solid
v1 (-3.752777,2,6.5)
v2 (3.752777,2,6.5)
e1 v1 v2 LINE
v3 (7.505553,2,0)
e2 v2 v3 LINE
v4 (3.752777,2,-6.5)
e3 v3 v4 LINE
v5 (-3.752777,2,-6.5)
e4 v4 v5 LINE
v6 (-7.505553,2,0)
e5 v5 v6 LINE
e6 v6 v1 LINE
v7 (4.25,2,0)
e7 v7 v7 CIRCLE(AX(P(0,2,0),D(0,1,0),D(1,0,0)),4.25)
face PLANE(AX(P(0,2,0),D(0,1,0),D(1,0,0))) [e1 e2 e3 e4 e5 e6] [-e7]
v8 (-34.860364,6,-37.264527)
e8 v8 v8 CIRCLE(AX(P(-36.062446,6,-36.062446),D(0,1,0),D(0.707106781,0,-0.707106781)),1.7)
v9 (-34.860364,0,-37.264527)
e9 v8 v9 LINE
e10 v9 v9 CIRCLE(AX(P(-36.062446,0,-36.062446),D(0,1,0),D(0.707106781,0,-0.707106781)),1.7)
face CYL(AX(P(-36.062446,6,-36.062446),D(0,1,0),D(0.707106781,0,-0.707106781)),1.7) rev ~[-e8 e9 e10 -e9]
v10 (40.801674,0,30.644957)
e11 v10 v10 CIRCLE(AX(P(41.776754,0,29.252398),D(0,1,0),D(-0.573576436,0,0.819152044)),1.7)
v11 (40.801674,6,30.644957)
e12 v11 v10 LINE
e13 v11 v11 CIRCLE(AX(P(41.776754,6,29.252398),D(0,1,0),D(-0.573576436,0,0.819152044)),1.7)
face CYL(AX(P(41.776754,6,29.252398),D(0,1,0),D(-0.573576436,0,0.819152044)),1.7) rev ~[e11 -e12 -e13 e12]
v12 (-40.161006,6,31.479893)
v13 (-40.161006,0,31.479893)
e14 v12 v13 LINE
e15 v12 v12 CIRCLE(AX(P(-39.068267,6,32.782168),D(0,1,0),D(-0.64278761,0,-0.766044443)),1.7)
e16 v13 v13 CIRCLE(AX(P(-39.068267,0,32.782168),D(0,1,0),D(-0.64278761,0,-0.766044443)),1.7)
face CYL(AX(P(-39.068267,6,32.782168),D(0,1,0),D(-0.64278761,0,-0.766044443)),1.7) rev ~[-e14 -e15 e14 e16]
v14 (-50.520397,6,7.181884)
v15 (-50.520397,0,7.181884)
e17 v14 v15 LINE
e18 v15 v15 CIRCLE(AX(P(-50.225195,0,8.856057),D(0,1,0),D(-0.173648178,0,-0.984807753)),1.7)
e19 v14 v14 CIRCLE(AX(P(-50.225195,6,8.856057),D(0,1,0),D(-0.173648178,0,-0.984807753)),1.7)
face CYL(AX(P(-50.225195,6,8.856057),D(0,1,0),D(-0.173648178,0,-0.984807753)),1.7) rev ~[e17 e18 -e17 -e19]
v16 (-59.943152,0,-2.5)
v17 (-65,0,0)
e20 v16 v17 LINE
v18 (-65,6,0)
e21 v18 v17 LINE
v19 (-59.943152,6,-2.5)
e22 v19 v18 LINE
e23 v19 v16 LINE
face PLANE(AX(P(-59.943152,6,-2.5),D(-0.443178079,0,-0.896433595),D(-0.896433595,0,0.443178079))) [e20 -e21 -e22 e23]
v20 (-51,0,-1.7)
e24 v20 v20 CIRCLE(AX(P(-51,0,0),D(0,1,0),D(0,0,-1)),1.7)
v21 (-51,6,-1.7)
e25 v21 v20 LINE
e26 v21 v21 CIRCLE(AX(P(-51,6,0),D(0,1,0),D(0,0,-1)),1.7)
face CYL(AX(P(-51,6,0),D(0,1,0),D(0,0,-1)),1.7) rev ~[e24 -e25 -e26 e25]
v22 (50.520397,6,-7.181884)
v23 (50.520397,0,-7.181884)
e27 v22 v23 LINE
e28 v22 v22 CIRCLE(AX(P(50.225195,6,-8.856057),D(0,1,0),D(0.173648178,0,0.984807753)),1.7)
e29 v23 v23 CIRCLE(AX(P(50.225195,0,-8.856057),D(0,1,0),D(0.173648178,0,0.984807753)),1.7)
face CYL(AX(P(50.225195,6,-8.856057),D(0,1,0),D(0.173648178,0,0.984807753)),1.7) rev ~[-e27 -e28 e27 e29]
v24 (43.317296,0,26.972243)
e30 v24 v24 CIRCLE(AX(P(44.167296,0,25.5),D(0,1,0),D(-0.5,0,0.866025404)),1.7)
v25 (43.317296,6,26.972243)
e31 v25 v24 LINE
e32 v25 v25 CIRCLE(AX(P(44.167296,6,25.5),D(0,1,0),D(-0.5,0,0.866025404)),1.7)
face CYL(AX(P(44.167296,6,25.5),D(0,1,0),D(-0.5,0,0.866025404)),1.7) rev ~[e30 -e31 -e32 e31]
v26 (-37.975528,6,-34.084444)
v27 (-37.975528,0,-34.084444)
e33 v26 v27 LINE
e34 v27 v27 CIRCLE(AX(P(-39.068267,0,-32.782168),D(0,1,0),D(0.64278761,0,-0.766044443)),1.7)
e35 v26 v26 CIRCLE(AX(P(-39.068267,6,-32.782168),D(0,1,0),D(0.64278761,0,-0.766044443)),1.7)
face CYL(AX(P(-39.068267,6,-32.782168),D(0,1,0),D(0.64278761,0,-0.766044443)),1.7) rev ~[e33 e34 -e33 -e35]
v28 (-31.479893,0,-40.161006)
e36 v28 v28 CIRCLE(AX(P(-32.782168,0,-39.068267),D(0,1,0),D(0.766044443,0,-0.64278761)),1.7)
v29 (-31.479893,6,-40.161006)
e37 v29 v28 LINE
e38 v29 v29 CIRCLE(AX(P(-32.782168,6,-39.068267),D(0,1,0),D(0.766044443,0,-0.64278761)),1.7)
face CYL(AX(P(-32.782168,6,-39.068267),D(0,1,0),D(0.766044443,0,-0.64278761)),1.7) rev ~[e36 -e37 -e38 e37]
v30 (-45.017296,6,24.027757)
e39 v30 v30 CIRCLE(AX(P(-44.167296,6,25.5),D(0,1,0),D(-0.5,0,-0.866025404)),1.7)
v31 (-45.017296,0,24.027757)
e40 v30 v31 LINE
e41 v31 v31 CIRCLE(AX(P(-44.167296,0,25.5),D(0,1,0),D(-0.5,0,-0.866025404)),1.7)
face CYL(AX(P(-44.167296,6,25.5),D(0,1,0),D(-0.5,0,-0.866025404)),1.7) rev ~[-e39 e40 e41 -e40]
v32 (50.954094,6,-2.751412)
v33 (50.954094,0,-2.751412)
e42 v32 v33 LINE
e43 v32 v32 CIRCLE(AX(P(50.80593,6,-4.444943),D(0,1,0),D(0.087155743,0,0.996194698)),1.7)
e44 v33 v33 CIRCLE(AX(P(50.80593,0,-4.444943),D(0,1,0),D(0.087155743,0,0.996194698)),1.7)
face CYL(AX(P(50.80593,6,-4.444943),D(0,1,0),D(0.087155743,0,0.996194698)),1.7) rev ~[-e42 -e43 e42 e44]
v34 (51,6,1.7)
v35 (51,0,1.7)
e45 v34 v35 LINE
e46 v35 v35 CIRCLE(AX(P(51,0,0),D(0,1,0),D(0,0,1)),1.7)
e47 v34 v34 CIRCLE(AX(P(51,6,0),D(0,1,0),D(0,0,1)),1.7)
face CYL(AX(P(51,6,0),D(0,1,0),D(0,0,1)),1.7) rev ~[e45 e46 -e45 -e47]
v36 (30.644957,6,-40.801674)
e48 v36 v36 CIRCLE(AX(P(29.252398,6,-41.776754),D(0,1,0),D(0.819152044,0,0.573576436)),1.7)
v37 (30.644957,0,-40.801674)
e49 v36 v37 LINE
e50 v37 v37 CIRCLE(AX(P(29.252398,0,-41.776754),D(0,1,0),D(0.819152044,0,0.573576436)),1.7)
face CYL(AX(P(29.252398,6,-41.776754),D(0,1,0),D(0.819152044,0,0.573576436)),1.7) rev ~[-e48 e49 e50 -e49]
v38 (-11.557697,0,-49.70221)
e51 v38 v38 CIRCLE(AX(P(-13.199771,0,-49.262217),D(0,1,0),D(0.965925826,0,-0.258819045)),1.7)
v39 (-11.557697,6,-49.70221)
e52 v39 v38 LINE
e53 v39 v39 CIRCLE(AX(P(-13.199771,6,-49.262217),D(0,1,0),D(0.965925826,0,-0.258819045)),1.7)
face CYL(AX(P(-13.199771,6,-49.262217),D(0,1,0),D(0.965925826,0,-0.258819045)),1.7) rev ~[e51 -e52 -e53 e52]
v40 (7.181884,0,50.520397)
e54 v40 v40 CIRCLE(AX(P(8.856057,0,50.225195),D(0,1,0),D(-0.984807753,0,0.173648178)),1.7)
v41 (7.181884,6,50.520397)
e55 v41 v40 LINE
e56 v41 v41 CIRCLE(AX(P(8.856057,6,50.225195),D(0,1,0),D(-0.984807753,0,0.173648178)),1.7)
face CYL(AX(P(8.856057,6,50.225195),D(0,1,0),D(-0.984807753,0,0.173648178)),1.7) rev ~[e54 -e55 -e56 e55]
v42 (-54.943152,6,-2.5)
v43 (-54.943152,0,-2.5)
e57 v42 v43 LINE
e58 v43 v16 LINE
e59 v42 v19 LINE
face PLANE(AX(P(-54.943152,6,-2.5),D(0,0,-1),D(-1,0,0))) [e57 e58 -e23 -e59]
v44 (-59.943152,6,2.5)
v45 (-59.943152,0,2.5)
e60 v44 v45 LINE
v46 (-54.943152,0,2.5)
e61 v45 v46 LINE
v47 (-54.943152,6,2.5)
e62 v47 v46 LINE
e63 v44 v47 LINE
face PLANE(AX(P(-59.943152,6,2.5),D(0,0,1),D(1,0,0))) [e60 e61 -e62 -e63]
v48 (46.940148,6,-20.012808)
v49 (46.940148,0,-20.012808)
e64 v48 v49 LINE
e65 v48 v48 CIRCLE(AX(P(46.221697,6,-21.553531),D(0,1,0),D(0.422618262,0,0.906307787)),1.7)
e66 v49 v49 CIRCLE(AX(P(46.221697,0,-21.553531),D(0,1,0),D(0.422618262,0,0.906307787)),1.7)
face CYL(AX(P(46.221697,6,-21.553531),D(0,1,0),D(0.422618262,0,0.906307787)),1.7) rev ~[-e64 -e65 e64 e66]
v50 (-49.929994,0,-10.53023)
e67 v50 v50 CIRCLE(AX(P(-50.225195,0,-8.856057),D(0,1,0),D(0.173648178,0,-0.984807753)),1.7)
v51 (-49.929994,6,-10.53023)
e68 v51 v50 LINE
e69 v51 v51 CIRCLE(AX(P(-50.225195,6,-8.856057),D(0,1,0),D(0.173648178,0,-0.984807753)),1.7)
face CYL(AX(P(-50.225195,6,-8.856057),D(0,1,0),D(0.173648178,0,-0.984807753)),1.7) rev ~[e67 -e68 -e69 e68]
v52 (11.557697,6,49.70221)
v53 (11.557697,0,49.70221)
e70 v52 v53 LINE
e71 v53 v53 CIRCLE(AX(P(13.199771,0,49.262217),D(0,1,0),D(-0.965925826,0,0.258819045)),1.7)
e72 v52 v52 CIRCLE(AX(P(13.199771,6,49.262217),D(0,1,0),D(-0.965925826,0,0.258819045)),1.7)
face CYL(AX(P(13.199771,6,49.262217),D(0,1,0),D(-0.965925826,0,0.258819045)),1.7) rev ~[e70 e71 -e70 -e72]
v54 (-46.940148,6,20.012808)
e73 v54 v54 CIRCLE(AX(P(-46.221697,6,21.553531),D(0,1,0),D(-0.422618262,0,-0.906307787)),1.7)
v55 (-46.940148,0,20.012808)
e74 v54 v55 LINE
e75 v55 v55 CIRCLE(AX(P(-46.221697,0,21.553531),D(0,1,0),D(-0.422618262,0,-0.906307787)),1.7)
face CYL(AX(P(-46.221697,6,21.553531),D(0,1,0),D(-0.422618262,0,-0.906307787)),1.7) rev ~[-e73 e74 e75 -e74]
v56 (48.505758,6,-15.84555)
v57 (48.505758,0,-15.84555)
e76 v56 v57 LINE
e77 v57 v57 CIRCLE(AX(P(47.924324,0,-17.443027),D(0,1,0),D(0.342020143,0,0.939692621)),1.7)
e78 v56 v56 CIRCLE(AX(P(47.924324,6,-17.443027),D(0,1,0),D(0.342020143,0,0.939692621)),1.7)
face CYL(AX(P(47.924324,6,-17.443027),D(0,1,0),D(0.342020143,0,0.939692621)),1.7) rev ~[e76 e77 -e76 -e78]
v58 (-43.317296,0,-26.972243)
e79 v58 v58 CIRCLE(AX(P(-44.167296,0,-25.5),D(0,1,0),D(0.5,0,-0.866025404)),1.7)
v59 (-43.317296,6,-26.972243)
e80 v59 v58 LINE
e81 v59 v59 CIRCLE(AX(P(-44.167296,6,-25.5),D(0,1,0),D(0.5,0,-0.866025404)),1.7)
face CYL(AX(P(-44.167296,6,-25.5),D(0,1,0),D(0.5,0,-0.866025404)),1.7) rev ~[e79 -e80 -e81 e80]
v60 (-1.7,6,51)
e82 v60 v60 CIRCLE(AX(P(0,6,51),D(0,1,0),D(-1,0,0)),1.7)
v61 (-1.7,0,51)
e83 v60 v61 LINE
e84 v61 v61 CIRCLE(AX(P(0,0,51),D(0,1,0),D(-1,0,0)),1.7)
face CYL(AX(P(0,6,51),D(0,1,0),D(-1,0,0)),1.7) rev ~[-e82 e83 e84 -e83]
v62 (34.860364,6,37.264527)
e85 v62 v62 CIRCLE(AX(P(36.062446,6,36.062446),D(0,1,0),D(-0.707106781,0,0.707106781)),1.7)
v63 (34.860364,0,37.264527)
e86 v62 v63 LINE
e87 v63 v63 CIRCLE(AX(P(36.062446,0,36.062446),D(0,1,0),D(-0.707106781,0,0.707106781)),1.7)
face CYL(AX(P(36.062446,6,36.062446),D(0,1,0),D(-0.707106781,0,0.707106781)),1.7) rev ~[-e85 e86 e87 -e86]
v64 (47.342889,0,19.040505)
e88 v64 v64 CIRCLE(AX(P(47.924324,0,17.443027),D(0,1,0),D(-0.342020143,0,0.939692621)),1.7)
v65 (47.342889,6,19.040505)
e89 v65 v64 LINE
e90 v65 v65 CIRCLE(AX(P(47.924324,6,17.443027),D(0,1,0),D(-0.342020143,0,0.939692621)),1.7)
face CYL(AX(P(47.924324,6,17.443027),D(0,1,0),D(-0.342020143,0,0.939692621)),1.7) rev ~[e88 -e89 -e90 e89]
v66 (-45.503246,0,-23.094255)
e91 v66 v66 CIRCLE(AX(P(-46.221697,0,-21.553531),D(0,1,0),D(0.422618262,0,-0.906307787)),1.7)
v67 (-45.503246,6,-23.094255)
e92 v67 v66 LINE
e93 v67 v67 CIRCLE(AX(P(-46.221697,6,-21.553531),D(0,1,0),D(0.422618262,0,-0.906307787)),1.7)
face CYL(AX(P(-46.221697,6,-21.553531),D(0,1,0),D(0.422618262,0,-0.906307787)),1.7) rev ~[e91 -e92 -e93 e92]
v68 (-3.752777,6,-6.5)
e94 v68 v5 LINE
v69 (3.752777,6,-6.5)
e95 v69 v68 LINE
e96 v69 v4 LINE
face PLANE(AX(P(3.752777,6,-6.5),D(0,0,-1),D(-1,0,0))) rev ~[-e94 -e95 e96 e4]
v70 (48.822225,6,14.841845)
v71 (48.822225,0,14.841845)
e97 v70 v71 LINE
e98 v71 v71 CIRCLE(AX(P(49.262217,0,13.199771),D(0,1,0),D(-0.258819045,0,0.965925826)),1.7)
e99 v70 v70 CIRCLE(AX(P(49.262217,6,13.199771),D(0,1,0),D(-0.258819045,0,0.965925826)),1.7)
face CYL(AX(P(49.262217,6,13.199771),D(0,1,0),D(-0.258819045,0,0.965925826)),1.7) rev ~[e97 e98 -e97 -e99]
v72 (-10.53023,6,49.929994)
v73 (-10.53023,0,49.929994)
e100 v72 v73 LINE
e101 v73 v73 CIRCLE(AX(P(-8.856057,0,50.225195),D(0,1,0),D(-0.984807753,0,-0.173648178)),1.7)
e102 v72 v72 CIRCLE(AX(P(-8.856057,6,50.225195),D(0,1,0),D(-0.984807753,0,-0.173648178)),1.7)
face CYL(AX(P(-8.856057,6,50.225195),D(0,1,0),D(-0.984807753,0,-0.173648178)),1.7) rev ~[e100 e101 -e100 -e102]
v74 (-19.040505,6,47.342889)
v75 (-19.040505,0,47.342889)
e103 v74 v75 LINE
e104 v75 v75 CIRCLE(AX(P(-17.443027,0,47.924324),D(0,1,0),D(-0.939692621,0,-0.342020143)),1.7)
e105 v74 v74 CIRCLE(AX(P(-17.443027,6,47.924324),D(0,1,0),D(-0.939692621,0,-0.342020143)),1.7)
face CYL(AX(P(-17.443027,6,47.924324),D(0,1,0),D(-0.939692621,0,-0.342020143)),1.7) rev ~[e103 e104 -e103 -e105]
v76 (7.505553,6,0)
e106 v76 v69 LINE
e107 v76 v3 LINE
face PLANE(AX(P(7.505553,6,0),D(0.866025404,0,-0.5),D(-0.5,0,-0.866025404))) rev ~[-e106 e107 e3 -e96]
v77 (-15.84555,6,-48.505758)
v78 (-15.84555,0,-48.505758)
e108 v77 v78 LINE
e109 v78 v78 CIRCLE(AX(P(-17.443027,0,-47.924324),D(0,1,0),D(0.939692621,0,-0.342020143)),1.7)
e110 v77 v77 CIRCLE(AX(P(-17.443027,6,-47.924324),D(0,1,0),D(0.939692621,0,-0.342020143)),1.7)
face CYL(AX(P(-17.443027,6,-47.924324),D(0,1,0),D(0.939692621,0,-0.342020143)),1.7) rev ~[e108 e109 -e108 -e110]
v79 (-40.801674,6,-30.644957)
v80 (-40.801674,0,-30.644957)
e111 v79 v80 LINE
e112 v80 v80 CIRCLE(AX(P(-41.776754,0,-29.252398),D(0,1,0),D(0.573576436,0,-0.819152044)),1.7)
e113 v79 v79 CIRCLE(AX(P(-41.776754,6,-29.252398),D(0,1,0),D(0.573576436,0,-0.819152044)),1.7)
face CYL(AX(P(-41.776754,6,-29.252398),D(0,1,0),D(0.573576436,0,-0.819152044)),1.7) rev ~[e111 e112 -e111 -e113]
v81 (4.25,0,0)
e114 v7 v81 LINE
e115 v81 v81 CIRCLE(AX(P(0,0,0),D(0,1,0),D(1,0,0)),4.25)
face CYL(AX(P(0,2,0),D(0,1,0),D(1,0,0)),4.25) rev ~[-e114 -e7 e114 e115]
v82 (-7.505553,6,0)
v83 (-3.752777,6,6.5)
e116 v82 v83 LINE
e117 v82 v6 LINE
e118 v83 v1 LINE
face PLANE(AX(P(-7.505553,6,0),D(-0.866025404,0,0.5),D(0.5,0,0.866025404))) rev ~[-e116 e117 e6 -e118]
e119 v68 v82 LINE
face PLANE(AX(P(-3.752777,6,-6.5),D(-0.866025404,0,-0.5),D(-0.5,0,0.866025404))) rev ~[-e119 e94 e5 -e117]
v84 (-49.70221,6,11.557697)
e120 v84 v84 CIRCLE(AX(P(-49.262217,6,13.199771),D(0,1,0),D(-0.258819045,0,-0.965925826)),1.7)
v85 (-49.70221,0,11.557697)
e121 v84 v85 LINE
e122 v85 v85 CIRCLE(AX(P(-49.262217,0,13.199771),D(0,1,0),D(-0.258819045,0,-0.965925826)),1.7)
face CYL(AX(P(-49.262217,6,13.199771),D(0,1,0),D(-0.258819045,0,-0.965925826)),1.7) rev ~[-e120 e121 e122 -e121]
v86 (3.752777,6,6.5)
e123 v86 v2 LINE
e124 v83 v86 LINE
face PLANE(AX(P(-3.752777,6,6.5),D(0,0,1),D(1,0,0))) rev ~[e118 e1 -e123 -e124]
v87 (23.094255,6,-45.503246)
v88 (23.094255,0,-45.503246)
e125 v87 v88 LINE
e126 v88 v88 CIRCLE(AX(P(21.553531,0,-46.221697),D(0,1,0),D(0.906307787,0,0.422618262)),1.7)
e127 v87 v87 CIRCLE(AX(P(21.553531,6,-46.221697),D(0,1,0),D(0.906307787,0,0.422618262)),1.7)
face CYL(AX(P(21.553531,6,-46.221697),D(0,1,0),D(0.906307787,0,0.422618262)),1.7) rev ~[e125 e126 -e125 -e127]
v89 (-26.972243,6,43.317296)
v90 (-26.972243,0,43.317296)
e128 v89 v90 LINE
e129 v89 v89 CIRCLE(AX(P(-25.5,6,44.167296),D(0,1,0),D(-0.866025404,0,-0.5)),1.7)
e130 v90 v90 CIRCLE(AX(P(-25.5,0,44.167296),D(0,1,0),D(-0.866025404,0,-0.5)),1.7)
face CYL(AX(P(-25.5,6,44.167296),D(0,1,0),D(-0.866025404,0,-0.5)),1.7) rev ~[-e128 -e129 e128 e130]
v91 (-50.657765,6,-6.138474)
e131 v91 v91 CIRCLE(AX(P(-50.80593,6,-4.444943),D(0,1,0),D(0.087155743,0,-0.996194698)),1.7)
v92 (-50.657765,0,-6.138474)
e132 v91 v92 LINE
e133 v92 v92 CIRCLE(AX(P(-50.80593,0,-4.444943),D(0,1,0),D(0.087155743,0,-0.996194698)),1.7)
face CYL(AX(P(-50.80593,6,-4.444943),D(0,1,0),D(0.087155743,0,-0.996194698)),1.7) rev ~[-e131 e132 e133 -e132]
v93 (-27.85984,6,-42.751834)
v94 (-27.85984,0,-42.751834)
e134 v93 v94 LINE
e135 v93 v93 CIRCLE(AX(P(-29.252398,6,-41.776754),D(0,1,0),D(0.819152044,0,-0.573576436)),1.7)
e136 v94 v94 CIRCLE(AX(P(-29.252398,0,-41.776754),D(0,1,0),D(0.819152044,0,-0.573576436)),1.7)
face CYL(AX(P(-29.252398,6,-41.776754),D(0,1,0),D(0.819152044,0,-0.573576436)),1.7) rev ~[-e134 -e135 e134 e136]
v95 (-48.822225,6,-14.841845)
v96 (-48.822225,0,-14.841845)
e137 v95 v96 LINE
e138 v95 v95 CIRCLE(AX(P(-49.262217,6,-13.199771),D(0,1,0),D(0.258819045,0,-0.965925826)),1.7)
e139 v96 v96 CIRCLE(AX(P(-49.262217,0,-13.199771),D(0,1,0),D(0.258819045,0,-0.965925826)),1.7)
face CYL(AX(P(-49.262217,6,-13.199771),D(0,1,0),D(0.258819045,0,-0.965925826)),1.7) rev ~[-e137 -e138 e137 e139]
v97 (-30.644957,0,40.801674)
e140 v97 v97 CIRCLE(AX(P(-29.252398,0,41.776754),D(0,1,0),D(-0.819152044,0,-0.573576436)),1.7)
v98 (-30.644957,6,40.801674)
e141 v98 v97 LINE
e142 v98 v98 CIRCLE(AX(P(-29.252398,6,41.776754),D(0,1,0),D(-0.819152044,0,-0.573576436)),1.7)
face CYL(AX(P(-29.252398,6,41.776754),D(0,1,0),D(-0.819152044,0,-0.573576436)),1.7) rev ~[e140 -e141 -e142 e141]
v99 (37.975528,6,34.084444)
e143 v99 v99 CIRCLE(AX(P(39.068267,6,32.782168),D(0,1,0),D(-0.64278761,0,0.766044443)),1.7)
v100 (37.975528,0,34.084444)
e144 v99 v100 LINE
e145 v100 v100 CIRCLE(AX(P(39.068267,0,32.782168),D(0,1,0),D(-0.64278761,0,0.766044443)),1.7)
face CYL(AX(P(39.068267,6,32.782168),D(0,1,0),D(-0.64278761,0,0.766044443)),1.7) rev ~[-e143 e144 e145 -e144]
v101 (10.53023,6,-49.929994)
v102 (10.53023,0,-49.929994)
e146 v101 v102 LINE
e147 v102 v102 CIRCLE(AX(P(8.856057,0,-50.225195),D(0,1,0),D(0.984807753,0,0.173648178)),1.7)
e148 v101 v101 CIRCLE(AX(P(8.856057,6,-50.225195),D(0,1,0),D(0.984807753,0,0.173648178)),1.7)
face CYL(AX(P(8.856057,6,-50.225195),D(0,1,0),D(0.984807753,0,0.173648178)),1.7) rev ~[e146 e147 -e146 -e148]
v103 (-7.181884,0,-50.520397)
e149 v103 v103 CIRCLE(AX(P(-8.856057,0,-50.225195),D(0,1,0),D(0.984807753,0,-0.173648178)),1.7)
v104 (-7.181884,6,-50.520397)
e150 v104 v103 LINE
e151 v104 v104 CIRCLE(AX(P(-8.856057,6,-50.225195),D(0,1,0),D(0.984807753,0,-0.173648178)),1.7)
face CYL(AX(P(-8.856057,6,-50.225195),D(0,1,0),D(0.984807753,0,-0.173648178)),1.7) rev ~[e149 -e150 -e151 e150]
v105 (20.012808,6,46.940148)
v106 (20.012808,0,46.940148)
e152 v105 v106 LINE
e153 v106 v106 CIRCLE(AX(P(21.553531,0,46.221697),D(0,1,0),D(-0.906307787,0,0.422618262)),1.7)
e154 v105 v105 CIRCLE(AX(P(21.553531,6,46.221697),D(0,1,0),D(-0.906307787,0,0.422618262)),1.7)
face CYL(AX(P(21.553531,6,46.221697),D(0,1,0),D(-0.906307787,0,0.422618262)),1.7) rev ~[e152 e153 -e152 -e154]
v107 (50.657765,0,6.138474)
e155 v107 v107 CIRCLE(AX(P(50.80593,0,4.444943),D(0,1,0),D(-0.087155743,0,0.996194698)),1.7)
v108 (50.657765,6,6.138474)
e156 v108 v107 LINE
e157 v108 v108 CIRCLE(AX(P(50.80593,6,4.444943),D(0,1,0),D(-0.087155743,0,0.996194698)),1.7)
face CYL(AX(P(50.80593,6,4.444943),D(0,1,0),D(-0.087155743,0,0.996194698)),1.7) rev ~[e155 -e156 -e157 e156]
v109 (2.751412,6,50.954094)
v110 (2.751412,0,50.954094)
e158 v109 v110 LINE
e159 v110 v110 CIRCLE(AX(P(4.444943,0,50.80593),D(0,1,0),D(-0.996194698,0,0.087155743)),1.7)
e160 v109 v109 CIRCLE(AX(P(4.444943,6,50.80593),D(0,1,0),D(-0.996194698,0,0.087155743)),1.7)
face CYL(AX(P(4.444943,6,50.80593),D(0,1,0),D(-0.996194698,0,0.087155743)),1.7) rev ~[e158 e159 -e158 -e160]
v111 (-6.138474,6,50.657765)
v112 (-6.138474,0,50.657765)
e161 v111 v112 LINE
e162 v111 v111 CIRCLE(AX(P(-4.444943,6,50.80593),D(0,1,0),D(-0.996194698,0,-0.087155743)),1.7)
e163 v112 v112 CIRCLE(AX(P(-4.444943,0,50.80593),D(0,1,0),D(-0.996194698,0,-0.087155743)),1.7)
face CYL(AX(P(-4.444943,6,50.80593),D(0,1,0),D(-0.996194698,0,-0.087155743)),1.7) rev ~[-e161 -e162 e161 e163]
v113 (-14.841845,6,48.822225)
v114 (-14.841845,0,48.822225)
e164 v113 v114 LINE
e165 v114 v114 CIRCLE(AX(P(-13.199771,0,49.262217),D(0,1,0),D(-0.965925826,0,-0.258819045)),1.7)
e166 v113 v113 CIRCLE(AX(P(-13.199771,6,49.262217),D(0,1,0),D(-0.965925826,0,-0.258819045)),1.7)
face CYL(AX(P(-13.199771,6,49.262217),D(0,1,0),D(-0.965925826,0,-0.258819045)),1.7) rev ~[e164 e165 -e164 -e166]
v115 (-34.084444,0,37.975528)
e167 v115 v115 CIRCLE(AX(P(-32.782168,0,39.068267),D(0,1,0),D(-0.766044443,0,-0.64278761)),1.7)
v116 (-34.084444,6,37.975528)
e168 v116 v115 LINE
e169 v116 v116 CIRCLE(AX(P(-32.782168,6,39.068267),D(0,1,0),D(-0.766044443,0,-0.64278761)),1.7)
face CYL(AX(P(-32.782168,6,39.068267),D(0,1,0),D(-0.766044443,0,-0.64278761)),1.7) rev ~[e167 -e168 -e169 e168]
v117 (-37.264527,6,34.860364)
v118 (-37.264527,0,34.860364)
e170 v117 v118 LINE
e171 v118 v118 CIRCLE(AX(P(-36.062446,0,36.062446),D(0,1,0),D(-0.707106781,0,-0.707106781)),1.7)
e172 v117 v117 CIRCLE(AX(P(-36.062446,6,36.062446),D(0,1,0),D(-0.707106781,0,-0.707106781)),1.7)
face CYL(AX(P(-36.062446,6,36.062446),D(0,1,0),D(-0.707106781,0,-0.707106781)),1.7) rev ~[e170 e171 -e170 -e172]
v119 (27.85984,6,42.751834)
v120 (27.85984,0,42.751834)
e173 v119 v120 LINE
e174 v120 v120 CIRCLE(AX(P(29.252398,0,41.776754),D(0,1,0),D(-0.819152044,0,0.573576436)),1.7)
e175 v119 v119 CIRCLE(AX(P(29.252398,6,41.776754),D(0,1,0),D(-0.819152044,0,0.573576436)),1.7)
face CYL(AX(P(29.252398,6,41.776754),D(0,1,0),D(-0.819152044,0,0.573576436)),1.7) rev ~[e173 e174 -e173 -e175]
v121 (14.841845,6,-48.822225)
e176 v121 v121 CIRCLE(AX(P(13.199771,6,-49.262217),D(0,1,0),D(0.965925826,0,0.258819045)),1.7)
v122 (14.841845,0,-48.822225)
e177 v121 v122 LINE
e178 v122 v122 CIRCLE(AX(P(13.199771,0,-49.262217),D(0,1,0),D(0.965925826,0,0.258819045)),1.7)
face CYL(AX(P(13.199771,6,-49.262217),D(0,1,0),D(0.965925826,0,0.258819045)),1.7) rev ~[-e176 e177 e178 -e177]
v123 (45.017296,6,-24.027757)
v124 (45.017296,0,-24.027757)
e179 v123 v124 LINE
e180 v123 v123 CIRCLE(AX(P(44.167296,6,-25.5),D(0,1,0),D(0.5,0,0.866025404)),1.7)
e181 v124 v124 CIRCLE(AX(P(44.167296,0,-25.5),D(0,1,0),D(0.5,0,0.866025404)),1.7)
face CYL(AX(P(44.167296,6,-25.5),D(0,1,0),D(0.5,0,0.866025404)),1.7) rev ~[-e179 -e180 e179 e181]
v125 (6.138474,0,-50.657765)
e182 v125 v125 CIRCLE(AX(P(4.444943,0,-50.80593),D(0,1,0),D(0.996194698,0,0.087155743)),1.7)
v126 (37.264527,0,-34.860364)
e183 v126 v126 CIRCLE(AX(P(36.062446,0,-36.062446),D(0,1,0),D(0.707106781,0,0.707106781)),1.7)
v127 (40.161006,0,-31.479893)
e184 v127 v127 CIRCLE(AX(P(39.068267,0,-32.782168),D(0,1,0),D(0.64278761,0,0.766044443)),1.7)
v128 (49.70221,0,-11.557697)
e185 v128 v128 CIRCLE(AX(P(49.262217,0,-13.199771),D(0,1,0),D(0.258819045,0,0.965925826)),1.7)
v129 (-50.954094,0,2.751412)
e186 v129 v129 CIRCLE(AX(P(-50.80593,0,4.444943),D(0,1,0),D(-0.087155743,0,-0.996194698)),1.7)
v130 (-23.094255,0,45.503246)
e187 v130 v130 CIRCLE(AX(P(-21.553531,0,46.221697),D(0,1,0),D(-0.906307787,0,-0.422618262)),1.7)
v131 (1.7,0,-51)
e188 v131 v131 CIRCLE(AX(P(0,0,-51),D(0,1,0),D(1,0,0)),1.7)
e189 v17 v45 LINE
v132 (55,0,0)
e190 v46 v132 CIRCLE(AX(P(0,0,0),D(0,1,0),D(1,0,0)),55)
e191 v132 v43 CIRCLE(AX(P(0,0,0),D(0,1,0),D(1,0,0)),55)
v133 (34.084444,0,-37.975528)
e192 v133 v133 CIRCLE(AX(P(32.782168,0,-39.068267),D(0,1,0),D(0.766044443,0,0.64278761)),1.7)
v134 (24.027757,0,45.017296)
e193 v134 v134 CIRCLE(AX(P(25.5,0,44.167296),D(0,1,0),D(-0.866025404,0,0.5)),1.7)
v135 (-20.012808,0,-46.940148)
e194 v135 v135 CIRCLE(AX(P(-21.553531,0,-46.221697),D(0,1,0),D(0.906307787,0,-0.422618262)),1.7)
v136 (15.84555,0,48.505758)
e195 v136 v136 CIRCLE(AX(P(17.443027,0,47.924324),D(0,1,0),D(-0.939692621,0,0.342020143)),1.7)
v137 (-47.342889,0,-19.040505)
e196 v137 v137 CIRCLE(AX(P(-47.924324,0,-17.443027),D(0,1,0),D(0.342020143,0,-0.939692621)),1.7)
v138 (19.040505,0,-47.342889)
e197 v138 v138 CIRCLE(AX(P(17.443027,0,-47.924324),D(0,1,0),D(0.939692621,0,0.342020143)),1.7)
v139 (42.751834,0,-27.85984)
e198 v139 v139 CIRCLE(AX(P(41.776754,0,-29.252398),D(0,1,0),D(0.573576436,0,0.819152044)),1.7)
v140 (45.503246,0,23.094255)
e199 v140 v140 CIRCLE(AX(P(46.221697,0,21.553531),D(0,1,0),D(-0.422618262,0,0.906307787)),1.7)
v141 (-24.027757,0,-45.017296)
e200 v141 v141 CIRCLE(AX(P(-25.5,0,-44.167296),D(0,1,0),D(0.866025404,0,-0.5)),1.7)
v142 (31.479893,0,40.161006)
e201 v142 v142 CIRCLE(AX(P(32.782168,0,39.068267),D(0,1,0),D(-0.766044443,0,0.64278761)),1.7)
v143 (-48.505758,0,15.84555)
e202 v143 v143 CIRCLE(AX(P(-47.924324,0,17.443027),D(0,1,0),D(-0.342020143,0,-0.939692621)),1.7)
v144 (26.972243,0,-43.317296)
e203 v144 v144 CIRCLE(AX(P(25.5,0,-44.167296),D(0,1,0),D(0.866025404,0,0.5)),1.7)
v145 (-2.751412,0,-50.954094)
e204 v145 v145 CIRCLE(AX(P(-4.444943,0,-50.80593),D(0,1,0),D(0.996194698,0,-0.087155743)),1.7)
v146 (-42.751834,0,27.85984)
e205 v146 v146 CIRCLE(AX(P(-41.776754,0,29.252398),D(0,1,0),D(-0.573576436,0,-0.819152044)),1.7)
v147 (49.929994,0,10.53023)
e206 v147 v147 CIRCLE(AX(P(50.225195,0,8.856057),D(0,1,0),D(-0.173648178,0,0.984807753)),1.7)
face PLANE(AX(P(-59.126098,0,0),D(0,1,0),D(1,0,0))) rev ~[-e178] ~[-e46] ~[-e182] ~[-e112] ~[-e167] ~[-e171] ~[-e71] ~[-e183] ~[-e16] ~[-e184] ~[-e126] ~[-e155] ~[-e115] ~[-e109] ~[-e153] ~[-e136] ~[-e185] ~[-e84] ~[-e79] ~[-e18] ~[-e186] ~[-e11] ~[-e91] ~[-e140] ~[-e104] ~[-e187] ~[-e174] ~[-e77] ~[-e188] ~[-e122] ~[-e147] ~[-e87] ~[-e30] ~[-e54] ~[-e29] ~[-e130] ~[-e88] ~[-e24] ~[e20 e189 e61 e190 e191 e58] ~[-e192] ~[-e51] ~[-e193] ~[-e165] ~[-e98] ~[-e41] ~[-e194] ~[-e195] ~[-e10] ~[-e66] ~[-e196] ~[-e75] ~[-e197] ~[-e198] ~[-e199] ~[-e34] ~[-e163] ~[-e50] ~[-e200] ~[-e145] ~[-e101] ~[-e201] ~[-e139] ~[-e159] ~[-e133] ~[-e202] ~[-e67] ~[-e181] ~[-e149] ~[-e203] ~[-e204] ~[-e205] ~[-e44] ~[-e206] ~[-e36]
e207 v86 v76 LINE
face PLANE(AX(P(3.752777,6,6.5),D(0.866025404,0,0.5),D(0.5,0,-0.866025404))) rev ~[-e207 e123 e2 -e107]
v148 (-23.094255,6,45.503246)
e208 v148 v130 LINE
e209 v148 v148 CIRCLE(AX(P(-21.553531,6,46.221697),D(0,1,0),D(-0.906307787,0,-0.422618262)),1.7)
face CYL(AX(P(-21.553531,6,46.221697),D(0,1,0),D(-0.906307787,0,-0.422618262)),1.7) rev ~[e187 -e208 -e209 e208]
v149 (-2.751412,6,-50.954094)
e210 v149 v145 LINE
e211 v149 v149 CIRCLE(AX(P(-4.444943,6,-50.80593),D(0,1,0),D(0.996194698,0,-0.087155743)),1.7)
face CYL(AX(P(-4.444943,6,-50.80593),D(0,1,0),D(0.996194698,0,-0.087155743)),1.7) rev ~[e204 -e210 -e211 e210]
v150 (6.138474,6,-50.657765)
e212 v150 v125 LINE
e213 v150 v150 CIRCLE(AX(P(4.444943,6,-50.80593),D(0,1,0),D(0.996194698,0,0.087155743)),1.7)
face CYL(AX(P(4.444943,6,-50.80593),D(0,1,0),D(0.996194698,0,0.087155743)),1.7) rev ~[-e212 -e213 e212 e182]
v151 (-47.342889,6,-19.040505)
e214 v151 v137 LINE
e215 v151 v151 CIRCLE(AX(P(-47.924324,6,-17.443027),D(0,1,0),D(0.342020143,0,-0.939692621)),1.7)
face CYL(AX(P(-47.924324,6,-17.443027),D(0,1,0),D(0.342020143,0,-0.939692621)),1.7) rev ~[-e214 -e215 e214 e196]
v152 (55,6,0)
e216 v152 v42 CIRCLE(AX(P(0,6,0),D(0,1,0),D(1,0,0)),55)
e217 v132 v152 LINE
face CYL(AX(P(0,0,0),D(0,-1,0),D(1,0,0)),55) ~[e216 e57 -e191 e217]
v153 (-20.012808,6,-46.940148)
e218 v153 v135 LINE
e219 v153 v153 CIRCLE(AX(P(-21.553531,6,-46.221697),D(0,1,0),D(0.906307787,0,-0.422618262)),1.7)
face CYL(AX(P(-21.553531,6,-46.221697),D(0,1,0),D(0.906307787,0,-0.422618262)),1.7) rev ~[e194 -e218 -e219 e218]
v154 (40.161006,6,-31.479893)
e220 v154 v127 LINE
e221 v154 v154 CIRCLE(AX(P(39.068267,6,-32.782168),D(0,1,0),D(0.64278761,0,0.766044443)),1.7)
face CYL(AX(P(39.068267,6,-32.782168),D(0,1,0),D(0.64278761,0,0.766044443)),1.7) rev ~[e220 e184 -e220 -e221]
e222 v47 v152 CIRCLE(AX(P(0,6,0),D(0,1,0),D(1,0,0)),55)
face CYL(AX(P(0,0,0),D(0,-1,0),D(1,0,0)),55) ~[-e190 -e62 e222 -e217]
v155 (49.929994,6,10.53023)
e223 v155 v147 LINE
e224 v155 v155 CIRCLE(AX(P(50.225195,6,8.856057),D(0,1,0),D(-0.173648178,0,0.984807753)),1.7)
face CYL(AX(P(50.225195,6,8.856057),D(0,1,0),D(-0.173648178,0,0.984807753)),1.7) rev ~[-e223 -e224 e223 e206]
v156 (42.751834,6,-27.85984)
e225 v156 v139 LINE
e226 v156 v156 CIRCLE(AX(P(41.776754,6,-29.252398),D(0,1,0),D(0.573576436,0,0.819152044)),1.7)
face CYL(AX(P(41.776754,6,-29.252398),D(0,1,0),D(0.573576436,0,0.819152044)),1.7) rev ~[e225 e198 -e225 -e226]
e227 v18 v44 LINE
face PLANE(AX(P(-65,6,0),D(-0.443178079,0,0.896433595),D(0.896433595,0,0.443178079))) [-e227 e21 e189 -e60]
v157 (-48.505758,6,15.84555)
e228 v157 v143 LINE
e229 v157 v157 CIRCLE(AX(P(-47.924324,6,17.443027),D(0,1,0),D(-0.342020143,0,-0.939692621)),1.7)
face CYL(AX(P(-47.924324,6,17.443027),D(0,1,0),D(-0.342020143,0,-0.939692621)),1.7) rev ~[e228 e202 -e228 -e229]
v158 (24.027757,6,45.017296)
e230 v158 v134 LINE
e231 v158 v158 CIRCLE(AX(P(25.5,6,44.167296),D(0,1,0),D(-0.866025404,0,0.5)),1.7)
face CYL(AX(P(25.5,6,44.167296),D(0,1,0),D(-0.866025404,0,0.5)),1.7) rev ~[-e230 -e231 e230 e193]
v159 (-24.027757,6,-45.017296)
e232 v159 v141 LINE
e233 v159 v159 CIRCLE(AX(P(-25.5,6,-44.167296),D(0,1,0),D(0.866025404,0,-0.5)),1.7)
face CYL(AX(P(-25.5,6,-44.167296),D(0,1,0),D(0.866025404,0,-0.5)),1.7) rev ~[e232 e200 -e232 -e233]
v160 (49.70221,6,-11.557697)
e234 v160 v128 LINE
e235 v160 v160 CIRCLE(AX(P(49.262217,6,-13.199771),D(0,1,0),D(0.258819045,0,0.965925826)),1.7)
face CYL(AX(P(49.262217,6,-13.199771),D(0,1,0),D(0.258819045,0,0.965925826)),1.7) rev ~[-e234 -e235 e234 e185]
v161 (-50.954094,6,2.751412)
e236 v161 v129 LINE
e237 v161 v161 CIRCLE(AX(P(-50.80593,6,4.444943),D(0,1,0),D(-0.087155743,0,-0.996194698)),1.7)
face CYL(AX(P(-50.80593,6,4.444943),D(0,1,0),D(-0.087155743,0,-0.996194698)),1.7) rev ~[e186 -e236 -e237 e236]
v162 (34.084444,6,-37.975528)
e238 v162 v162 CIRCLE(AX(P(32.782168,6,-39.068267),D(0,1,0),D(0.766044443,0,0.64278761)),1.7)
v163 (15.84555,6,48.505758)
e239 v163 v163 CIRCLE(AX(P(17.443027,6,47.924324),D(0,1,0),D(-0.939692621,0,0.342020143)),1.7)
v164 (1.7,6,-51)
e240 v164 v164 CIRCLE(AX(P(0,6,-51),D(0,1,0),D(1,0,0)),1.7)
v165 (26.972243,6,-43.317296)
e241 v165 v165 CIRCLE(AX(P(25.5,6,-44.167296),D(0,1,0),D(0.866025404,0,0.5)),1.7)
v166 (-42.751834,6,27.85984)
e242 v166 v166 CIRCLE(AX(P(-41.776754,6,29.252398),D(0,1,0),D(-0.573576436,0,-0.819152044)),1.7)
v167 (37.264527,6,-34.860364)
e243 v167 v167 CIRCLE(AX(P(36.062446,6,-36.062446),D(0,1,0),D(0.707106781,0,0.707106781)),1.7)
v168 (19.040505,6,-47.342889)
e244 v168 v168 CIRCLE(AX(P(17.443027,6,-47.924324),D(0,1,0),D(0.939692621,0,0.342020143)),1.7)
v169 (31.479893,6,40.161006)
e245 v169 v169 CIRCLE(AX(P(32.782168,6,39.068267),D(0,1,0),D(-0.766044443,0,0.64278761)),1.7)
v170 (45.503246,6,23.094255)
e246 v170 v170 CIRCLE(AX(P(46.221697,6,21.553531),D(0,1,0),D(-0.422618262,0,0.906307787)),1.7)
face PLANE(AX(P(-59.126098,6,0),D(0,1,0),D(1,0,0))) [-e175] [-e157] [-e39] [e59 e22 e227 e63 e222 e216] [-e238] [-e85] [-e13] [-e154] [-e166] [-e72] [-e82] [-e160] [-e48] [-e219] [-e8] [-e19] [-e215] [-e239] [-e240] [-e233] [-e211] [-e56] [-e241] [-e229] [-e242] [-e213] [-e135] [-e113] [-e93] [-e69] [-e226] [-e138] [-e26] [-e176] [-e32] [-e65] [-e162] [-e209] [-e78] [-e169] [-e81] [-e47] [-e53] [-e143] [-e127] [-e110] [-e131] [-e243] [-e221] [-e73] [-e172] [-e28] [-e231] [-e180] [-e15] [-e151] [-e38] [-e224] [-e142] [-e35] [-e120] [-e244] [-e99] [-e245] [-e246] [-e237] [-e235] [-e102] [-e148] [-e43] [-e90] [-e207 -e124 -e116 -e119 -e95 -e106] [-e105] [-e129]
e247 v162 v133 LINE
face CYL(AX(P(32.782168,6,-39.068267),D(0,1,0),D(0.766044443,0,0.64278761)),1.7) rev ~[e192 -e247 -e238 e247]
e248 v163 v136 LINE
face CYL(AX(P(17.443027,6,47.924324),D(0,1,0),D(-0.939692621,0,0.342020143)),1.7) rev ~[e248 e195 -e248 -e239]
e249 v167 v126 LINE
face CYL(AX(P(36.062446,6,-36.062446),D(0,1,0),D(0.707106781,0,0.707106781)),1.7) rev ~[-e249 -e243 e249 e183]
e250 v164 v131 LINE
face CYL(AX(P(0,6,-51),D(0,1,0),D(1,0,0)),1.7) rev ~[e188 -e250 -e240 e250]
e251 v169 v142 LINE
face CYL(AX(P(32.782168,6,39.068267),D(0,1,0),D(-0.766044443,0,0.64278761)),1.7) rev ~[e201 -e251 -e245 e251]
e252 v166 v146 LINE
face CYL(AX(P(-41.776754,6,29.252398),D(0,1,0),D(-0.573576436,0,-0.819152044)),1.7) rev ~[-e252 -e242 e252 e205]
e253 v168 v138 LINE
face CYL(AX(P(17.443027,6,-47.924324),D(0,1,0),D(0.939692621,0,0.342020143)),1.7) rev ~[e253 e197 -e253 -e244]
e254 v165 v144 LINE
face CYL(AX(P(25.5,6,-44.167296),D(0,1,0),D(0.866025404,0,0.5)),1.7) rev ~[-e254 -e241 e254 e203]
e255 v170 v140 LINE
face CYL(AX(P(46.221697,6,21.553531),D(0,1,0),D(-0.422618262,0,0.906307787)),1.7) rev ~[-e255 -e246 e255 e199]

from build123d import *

# Parameters (mm, degrees)
SKETCH1_R           = 55
BOSS_EXTRUDE1_DEPTH = 6
CUT_EXTRUDE1_DEPTH  = 4
SKETCH3_R           = 1.7
CUT_EXTRUDE2_DEPTH  = 7
CIRPATTERN1_COUNT   = 72
SKETCH4_R           = 4.25
CUT_EXTRUDE3_DEPTH  = 3
BOSS_EXTRUDE2_DEPTH = 6


with BuildPart() as part:
    # Sketch1 → Boss-Extrude1 (new body)
    with BuildSketch(Plane(origin=(0, 0, 0), x_dir=(1, 0, 0), z_dir=(0, 1, 0))):
        Circle(SKETCH1_R)
    extrude(amount=BOSS_EXTRUDE1_DEPTH)

    # Sketch2 → Cut-Extrude1 (cut)
    with BuildSketch(Plane(origin=(0, 6, 0), x_dir=(1, 0, 0), z_dir=(0, 1, 0))):
        Polygon((3.75277675, 6.5), (-3.75277675, 6.5), (-7.505553499, 0), (-3.75277675, -6.5), (3.75277675, -6.5), (7.505553499, 0), align=None)
    extrude(amount=-CUT_EXTRUDE1_DEPTH, mode=Mode.SUBTRACT)

    # Sketch3 → Cut-Extrude2 (cut, through all)
    with BuildSketch(Plane(origin=(0, 6, 0), x_dir=(1, 0, 0), z_dir=(0, 1, 0))):
        with Locations((0, 51)):
            Circle(SKETCH3_R)
    cut_extrude2 = extrude(amount=-CUT_EXTRUDE2_DEPTH, mode=Mode.SUBTRACT)

    # CirPattern1: Cut-Extrude2 ×72 about axis
    cirpattern1_axis = Axis((0, 0, 0), (0, 1, 0))
    for i in range(1, CIRPATTERN1_COUNT):
        add(cut_extrude2.rotate(cirpattern1_axis, i * 360 / CIRPATTERN1_COUNT), mode=Mode.SUBTRACT)

    # Sketch4 → Cut-Extrude3 (cut, through all)
    with BuildSketch(Plane(origin=(0, 2, 0), x_dir=(1, 0, 0), z_dir=(0, 1, 0))):
        Circle(SKETCH4_R)
    extrude(amount=-CUT_EXTRUDE3_DEPTH, mode=Mode.SUBTRACT)

    # Sketch5 → Boss-Extrude2 (add)
    with BuildSketch(Plane(origin=(0, 6, 0), x_dir=(1, 0, 0), z_dir=(0, 1, 0))):
        Polygon((-59.94315244, 2.5), (-65, 0), (-59.94315244, -2.5), (-54.94315244, -2.5), (-54.94315244, 2.5), align=None)
    extrude(amount=-BOSS_EXTRUDE2_DEPTH)


solid = part.part
